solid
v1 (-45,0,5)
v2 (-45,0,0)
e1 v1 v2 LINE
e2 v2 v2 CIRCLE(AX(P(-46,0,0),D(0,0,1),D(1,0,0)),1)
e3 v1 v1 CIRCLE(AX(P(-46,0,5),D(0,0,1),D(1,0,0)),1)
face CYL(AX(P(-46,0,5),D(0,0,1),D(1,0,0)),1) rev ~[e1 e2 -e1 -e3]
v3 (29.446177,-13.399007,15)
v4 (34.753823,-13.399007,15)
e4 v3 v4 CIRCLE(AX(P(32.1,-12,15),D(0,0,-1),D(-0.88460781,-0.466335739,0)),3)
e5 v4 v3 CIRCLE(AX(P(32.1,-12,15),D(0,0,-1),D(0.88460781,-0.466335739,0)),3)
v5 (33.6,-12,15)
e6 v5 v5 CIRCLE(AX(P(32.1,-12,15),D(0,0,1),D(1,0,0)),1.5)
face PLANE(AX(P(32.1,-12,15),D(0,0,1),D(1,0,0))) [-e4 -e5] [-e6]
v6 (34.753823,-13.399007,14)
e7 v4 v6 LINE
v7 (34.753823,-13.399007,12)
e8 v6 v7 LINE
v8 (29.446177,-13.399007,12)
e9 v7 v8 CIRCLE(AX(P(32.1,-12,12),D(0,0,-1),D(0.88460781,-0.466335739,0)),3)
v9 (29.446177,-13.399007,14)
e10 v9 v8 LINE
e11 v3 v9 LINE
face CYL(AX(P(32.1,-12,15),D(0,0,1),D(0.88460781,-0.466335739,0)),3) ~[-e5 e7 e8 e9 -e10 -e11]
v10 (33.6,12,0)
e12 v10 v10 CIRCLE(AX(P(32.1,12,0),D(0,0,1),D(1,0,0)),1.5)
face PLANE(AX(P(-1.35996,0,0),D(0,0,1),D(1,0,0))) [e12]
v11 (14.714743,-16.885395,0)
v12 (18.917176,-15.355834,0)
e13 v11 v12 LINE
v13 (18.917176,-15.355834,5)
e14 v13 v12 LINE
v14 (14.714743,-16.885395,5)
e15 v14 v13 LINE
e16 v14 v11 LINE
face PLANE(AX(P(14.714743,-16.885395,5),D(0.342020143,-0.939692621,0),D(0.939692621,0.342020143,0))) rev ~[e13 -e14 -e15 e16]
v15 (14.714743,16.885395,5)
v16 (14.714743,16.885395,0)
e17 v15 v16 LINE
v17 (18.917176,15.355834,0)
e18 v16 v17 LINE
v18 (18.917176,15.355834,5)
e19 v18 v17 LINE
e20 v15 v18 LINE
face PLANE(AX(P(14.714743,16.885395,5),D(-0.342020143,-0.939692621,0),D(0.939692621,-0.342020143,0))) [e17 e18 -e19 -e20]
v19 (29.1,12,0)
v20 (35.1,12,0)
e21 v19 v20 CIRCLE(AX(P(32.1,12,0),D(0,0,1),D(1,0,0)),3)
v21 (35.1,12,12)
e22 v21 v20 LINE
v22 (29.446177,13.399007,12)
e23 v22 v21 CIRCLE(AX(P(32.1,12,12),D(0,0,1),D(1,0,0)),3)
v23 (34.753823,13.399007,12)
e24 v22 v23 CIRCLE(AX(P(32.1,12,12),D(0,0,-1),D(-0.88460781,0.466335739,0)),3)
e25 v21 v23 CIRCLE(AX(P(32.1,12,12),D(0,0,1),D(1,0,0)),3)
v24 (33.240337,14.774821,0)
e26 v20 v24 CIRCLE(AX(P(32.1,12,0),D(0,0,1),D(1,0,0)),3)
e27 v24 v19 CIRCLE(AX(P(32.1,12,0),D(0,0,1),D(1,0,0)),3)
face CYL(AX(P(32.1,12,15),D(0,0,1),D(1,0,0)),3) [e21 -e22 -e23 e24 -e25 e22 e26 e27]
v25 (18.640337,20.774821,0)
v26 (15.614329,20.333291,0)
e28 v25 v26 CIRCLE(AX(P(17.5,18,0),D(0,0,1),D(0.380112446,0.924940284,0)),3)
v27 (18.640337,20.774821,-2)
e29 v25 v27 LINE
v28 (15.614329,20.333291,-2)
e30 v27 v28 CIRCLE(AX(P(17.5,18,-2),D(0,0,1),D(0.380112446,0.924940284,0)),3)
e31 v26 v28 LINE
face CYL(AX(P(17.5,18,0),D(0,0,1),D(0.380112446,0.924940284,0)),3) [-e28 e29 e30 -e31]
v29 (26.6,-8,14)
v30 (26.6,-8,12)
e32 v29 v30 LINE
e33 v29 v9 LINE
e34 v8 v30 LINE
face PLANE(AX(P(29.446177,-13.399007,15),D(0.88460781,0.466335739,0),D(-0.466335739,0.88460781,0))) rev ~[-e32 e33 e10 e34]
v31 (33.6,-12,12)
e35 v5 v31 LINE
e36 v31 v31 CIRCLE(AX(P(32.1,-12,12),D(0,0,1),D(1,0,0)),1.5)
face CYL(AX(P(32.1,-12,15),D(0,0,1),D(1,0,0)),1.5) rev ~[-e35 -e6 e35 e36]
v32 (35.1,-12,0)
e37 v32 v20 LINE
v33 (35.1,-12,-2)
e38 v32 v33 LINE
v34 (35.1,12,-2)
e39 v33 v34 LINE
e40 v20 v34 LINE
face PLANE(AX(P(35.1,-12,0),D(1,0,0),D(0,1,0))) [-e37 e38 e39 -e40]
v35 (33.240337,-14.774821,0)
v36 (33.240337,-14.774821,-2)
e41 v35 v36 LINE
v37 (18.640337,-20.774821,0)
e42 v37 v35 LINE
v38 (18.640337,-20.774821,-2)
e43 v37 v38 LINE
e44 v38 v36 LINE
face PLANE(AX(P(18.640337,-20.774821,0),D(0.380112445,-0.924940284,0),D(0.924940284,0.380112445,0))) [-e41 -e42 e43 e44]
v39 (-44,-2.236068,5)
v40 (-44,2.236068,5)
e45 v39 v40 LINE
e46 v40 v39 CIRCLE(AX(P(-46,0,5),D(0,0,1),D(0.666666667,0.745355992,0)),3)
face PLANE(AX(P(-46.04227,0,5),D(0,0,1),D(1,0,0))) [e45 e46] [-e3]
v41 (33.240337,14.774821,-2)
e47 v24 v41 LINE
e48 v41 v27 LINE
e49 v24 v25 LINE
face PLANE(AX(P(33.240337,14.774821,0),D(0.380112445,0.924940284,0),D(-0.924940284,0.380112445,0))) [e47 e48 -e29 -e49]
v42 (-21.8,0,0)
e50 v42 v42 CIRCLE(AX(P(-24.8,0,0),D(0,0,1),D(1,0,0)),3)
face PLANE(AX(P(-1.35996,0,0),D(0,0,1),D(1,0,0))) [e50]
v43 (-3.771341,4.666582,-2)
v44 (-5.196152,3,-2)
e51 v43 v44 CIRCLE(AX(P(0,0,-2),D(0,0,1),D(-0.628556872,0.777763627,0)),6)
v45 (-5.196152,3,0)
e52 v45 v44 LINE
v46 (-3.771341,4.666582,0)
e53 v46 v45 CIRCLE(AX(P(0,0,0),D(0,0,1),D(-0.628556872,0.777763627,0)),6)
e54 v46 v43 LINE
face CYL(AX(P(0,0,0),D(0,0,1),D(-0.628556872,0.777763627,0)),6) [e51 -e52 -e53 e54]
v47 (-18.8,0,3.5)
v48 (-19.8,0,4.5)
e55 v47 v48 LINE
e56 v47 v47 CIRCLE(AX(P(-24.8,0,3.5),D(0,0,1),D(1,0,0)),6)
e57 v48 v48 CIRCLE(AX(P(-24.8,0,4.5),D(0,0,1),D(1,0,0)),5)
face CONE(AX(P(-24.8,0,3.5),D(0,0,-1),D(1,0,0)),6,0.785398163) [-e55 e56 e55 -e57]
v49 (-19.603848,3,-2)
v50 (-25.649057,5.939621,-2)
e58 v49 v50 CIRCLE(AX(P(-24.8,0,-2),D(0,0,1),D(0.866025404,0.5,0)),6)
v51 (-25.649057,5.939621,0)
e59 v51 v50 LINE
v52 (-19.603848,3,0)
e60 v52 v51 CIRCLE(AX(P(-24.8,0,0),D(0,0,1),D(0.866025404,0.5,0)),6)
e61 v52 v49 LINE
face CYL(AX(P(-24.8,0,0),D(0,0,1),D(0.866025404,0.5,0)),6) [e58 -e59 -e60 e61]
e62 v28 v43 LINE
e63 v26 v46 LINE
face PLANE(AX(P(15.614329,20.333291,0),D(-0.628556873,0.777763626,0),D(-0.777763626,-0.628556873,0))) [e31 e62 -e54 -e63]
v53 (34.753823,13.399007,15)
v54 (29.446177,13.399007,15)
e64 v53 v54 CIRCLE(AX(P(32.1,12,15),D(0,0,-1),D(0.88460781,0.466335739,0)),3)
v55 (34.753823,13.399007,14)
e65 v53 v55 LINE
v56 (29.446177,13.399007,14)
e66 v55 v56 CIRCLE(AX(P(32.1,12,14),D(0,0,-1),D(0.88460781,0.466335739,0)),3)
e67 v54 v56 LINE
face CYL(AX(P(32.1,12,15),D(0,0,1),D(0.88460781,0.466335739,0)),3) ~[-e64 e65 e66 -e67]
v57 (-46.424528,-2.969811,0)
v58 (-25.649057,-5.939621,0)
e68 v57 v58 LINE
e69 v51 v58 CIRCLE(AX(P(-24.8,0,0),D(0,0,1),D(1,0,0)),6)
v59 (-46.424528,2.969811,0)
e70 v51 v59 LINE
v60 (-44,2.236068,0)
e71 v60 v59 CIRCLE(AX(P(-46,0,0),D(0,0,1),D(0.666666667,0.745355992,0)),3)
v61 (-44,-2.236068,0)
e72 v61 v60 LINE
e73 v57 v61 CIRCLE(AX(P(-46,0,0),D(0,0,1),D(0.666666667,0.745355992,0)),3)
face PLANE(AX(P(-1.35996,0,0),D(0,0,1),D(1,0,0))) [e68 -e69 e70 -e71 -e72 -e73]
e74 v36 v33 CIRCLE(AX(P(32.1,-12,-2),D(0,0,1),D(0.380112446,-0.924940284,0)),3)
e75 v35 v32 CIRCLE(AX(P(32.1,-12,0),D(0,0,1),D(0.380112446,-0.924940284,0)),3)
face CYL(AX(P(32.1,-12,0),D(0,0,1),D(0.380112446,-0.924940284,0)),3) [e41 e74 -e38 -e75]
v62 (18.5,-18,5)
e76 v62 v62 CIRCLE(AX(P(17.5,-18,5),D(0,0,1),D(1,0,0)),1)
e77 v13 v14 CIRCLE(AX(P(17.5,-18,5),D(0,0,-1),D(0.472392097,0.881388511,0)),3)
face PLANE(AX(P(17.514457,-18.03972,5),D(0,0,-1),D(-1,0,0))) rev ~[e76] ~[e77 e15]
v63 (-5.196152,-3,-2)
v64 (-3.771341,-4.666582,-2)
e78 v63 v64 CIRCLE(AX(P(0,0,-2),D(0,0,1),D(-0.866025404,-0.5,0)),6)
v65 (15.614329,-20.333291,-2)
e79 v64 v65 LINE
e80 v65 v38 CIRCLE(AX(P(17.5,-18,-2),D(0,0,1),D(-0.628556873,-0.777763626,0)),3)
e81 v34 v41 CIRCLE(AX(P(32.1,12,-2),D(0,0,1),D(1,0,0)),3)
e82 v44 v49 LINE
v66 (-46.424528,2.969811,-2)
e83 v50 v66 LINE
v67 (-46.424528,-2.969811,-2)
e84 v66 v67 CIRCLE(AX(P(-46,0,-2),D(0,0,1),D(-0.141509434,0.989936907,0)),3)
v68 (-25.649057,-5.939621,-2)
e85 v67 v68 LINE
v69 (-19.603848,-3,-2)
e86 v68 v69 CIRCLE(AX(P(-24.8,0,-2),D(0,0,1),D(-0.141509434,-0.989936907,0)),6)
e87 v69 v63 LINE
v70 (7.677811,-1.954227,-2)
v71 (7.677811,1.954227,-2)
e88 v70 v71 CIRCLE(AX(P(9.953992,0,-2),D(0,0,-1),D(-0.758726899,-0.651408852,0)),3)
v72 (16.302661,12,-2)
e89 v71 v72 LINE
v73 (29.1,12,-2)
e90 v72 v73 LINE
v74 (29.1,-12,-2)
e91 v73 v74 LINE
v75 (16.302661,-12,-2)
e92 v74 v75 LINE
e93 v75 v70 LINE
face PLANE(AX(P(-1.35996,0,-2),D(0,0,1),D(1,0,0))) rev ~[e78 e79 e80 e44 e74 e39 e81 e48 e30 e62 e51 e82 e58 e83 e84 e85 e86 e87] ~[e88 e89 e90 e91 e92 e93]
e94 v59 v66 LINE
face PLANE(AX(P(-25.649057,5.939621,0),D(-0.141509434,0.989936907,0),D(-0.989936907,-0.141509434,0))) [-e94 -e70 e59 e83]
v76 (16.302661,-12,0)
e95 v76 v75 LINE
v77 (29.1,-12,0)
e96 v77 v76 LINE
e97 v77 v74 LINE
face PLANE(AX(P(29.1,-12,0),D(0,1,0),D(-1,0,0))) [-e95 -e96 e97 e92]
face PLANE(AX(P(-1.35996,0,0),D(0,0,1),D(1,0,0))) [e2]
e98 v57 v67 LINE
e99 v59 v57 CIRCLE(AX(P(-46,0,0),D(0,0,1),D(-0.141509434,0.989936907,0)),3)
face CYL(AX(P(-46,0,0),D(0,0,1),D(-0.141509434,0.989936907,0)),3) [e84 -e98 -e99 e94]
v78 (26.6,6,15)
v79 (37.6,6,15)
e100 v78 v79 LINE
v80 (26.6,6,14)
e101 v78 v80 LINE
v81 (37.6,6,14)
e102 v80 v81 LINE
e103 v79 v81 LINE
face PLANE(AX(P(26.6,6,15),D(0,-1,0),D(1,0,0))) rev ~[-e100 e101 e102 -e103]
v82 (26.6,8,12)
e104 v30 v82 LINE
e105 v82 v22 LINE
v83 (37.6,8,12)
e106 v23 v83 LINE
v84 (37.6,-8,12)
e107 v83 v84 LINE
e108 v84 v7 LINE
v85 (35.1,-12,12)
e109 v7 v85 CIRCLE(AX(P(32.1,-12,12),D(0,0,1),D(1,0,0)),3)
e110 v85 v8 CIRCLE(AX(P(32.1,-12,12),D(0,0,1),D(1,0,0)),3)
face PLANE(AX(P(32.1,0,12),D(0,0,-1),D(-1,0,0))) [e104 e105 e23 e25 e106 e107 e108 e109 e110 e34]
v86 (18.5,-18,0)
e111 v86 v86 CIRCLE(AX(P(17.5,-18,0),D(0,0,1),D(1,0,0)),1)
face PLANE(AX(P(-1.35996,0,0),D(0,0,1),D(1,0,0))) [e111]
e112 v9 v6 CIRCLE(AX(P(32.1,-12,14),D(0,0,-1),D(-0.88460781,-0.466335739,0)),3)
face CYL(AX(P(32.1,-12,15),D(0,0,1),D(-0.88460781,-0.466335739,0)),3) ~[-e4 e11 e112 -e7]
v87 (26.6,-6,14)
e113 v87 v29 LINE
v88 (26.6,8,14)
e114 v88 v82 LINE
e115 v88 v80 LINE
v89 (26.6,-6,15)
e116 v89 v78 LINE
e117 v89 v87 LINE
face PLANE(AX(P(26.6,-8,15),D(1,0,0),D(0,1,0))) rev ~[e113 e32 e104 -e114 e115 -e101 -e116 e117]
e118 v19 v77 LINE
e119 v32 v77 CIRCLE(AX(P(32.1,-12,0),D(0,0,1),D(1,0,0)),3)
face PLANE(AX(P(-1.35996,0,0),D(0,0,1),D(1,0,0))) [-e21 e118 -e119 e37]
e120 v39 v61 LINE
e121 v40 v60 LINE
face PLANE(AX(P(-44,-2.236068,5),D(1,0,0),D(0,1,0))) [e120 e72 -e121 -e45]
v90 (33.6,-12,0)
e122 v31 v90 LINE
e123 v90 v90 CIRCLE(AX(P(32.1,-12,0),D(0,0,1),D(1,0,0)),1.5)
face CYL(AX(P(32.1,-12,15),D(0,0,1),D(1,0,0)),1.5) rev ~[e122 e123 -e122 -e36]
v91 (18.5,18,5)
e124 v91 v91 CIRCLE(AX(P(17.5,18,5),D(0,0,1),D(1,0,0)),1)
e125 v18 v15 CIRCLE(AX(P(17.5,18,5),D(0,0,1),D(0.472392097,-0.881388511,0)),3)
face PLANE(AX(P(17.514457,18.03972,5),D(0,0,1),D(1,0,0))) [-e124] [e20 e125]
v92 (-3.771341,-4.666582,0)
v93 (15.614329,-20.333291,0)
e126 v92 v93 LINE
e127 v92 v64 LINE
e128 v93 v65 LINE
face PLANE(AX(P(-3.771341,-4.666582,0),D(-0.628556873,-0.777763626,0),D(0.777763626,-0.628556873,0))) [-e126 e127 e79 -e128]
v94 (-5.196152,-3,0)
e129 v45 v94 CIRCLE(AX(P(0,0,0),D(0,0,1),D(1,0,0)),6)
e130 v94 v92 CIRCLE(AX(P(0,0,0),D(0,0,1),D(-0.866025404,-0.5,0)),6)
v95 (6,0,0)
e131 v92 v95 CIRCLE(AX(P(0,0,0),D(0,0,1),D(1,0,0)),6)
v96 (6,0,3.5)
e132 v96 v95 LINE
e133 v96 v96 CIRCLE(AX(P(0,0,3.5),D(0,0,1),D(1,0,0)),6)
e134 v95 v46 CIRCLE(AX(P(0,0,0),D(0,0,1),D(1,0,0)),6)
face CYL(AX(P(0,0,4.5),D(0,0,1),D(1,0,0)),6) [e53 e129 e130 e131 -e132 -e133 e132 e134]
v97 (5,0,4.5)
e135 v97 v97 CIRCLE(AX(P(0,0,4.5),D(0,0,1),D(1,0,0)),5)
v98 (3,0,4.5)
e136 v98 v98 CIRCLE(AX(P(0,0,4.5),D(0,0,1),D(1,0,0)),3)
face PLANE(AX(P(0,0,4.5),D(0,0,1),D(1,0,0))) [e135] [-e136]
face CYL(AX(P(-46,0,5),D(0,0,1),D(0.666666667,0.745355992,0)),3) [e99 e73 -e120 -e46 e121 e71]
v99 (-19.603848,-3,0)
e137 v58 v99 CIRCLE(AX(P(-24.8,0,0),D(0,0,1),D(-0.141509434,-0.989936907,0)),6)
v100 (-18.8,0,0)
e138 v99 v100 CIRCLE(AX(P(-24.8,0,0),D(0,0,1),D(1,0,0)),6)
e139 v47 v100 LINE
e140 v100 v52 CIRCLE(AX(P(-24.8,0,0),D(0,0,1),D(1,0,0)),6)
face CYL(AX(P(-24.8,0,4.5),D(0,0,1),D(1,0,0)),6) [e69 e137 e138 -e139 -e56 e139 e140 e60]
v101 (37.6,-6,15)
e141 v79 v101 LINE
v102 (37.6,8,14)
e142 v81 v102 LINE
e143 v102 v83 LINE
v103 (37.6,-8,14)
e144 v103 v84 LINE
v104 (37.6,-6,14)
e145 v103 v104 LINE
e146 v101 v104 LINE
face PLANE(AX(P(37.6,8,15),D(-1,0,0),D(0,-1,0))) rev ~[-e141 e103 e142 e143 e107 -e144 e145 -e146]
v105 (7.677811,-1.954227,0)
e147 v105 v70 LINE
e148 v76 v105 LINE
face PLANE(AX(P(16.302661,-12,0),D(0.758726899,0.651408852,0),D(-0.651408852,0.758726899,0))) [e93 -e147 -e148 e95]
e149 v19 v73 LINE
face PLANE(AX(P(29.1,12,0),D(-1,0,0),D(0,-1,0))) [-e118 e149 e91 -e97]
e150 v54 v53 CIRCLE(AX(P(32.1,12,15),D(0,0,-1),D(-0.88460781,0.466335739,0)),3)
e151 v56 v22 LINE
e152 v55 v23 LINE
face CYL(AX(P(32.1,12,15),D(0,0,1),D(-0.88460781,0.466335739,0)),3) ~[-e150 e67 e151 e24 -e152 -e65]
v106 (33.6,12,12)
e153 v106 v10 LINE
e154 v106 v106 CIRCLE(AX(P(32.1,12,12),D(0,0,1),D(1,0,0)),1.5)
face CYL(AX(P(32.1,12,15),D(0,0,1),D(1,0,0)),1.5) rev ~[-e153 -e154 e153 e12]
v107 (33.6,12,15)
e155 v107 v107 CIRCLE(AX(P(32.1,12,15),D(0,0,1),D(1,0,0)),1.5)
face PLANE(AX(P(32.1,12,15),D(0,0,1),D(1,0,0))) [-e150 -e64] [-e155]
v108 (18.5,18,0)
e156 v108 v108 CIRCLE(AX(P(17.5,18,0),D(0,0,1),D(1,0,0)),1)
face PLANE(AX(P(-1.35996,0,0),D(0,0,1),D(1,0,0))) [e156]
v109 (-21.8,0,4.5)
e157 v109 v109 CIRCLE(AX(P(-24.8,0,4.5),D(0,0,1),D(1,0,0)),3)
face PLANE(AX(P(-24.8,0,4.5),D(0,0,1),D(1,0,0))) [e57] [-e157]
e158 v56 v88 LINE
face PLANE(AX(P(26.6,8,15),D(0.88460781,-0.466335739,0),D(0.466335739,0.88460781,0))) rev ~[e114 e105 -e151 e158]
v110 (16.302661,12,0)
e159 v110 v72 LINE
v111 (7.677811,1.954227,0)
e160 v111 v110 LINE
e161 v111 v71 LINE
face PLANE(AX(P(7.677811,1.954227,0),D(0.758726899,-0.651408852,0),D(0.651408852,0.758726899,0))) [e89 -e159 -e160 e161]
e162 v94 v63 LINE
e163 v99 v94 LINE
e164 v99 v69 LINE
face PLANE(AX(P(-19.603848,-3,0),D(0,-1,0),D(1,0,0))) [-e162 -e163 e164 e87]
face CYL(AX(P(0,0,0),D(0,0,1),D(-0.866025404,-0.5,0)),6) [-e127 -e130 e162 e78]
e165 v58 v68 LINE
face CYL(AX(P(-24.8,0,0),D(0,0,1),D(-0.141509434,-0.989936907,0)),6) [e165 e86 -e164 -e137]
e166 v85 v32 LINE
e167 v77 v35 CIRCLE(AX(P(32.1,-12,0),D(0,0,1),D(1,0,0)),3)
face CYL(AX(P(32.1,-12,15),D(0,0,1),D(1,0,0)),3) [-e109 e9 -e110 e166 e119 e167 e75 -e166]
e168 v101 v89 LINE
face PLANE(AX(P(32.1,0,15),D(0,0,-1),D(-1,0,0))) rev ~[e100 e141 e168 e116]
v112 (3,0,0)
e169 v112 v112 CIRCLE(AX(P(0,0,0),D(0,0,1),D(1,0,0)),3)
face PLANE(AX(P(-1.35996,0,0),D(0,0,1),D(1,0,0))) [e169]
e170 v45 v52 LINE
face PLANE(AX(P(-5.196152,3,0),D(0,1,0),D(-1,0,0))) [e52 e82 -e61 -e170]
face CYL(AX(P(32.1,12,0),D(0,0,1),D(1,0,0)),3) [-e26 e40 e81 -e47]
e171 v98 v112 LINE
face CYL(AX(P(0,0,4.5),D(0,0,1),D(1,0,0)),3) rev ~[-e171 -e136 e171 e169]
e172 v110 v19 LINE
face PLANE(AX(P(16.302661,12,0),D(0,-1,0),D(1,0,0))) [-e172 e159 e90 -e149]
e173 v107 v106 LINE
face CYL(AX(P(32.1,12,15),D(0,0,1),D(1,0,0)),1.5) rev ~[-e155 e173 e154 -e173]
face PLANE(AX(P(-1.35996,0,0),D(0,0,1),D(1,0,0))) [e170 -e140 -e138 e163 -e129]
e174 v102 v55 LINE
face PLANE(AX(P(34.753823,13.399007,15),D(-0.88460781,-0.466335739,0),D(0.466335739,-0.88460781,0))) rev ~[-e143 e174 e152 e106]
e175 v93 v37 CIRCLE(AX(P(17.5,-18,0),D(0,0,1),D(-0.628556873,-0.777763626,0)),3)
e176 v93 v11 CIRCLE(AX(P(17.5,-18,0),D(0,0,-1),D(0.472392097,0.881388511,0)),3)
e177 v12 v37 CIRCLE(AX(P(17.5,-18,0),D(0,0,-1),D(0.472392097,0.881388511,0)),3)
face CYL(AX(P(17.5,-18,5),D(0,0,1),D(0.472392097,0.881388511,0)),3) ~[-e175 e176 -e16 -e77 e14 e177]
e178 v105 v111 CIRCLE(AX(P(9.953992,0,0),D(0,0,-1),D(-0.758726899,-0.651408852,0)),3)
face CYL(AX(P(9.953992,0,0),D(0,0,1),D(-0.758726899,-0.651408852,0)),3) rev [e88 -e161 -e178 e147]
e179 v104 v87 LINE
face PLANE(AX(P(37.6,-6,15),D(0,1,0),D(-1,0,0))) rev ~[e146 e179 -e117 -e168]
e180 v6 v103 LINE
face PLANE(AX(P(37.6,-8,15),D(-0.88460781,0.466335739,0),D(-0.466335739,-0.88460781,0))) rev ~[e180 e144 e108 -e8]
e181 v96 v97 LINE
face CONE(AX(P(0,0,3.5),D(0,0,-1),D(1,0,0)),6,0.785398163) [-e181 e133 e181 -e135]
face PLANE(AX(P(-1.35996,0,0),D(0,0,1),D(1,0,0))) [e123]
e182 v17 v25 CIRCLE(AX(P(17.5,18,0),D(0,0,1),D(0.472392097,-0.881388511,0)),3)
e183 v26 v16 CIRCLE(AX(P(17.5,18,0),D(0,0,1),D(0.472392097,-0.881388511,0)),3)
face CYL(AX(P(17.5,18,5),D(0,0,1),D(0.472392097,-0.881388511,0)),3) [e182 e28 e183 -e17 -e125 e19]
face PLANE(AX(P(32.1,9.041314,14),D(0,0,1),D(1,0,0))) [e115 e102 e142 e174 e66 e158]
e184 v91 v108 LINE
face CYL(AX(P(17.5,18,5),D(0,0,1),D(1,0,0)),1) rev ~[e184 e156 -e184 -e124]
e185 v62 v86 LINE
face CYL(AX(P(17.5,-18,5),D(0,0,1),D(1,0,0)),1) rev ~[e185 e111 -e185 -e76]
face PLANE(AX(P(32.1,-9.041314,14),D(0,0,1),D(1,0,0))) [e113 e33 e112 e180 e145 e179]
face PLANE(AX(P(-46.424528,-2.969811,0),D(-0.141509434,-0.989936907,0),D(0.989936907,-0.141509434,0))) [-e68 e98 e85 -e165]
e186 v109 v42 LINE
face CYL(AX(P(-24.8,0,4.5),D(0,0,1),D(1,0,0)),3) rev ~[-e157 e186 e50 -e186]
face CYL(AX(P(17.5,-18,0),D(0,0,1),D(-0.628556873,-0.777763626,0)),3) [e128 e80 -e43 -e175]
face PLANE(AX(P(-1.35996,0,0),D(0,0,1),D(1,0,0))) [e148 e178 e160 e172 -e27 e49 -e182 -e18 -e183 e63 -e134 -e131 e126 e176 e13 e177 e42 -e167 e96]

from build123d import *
from build123d.topology import SkipClean

# Parameters (mm, degrees)
BOSS_EXTRUDE1_DEPTH = 2
BOSS_EXTRUDE2_START = 4.5
SKETCH2_R           = 6
SKETCH2_R_2         = 3
BOSS_EXTRUDE2_DEPTH = 4.5
CHAMFER1_SIZE       = 1
BOSS_EXTRUDE3_START = 5
SKETCH3_R           = 1
BOSS_EXTRUDE3_DEPTH = 5
BOSS_EXTRUDE4_START = 15
SKETCH4_R           = 3
SKETCH4_R_2         = 1.5
BOSS_EXTRUDE4_DEPTH = 15
SKETCH5_R           = 1.5
BOSS_EXTRUDE5_DEPTH = 3
CUT_EXTRUDE1_DEPTH  = 1


with BuildPart() as part:
    # Sketch1 → Boss-Extrude1 (new body)
    with BuildSketch(Plane.XY):
        with BuildLine():
            Line((-5.196152423, 3), (-19.603847577, 3))
            ThreePointArc((-19.603847577, 3), (-22.176137566, 5.39586378), (-25.649056604, 5.939621443))
            Line((-25.649056604, 5.939621443), (-46.424528302, 2.969810721))
            ThreePointArc((-46.424528302, 2.969810721), (-49, 0), (-46.424528302, -2.969810721))
            Line((-46.424528302, -2.969810721), (-25.649056604, -5.939621443))
            ThreePointArc((-25.649056604, -5.939621443), (-22.176137566, -5.39586378), (-19.603847577, -3))
            Line((-19.603847577, -3), (-5.196152423, -3))
            ThreePointArc((-5.196152423, -3), (-4.560521825, -3.898928146), (-3.771341235, -4.666581756))
            Line((-3.771341235, -4.666581756), (15.614329382, -20.333290878))
            ThreePointArc((15.614329382, -20.333290878), (17.066851522, -20.968565714), (18.640337336, -20.774820852))
            Line((18.640337336, -20.774820852), (33.240337336, -14.774820852))
            ThreePointArc((33.240337336, -14.774820852), (34.592088683, -13.670177833), (35.1, -12))
            Line((35.1, -12), (35.1, 12))
            ThreePointArc((35.1, 12), (34.592088683, 13.670177833), (33.240337336, 14.774820852))
            Line((33.240337336, 14.774820852), (18.640337336, 20.774820852))
            ThreePointArc((18.640337336, 20.774820852), (17.066851522, 20.968565714), (15.614329382, 20.333290878))
            Line((15.614329382, 20.333290878), (-3.771341235, 4.666581756))
            ThreePointArc((-3.771341235, 4.666581756), (-4.560521825, 3.898928146), (-5.196152423, 3))
        make_face()
        with BuildLine():
            Line((7.677811186, 1.954226556), (16.302661255, 12))
            Line((16.302661255, 12), (29.1, 12))
            Line((29.1, 12), (29.1, -12))
            Line((29.1, -12), (16.302661255, -12))
            Line((16.302661255, -12), (7.677811186, -1.954226556))
            ThreePointArc((7.677811186, -1.954226556), (6.953991883, 0), (7.677811186, 1.954226556))
        make_face(mode=Mode.SUBTRACT)
    extrude(amount=-BOSS_EXTRUDE1_DEPTH)

    # Sketch2 → Boss-Extrude2 (add)
    # profile 1 of 2: a face of its own
    with BuildSketch(Plane.XY.offset(BOSS_EXTRUDE2_START)):
        with Locations((-24.8, 0)):
            Circle(SKETCH2_R)
        with Locations((-24.8, 0)):
            Circle(SKETCH2_R_2, mode=Mode.SUBTRACT)
    # profile 2 of 2: a face of its own
    with BuildSketch(Plane.XY.offset(BOSS_EXTRUDE2_START)):
        Circle(SKETCH2_R)
        Circle(SKETCH2_R_2, mode=Mode.SUBTRACT)
    extrude(amount=-BOSS_EXTRUDE2_DEPTH)

    # Chamfer1
    chamfer1_edges = [part.edges().sort_by_distance(p)[0] for p in [
        (-30.8, 0, 4.5),
        (-6, 0, 4.5),
    ]]
    chamfer(chamfer1_edges, length=CHAMFER1_SIZE)

    # Sketch3 → Boss-Extrude3 (add)
    # profile 1 of 3: a face of its own
    with SkipClean():  # the faces are left unmerged after this step: merging them gives an invalid solid
        with BuildSketch(Plane.XY.offset(BOSS_EXTRUDE3_START)):
            with BuildLine():
                Line((-44, -2.236067977), (-44, 2.236067977))
                ThreePointArc((-44, 2.236067977), (-49, 0), (-44, -2.236067977))
            make_face()
            with Locations((-46, 0)):
                Circle(SKETCH3_R, mode=Mode.SUBTRACT)
        # profile 2 of 3: a face of its own
        with BuildSketch(Plane.XY.offset(BOSS_EXTRUDE3_START)):
            with BuildLine():
                Line((14.714743135, -16.885395049), (18.917176291, -15.355834468))
                ThreePointArc((18.917176291, -15.355834468), (18.52606043, -20.819077862), (14.714743135, -16.885395049))
            make_face()
            with Locations((17.5, -18)):
                Circle(SKETCH3_R, mode=Mode.SUBTRACT)
        # profile 3 of 3: a face of its own
        with BuildSketch(Plane.XY.offset(BOSS_EXTRUDE3_START)):
            with BuildLine():
                Line((14.714743135, 16.885395049), (18.917176291, 15.355834468))
                ThreePointArc((18.917176291, 15.355834468), (18.52606043, 20.819077862), (14.714743135, 16.885395049))
            make_face()
            with Locations((17.5, 18)):
                Circle(SKETCH3_R, mode=Mode.SUBTRACT)
        extrude(amount=-BOSS_EXTRUDE3_DEPTH)

    # Sketch4 → Boss-Extrude4 (add)
    # profile 1 of 2: a face of its own
    with SkipClean():  # the faces are left unmerged after this step: merging them gives an invalid solid
        with BuildSketch(Plane.XY.offset(BOSS_EXTRUDE4_START)):
            with Locations((32.1, -12)):
                Circle(SKETCH4_R)
            with Locations((32.1, -12)):
                Circle(SKETCH4_R_2, mode=Mode.SUBTRACT)
        # profile 2 of 2: a face of its own
        with BuildSketch(Plane.XY.offset(BOSS_EXTRUDE4_START)):
            with Locations((32.1, 12)):
                Circle(SKETCH4_R)
            with Locations((32.1, 12)):
                Circle(SKETCH4_R_2, mode=Mode.SUBTRACT)
        extrude(amount=-BOSS_EXTRUDE4_DEPTH)

    # Sketch5 → Boss-Extrude5 (add)
    with BuildSketch(Plane.XY.offset(15)):
        with BuildLine():
            Line((29.446176569, -13.399007218), (26.6, -8))
            Line((26.6, -8), (26.6, 8))
            Line((26.6, 8), (29.446176569, 13.399007218))
            ThreePointArc((29.446176569, 13.399007218), (32.1, 15), (34.753823431, 13.399007218))
            Line((34.753823431, 13.399007218), (37.6, 8))
            Line((37.6, 8), (37.6, -8))
            Line((37.6, -8), (34.753823431, -13.399007218))
            ThreePointArc((34.753823431, -13.399007218), (32.1, -15), (29.446176569, -13.399007218))
        make_face()
        with Locations((32.1, -12)):
            Circle(SKETCH5_R, mode=Mode.SUBTRACT)
        with Locations((32.1, 12)):
            Circle(SKETCH5_R, mode=Mode.SUBTRACT)
    extrude(amount=-BOSS_EXTRUDE5_DEPTH)

    # Sketch6 → Cut-Extrude1 (cut)
    with BuildSketch(Plane.XY.offset(15)):
        with BuildLine():
            Line((29.446176569, 13.399007218), (26.6, 8))
            Line((26.6, 8), (26.6, 6))
            Line((26.6, 6), (37.6, 6))
            Line((37.6, 6), (37.6, 8))
            Line((37.6, 8), (34.753823431, 13.399007218))
            ThreePointArc((34.753823431, 13.399007218), (32.1, 9), (29.446176569, 13.399007218))
        make_face()
        with BuildLine():
            Line((26.6, -8), (29.446176569, -13.399007218))
            ThreePointArc((29.446176569, -13.399007218), (32.1, -9), (34.753823431, -13.399007218))
            Line((34.753823431, -13.399007218), (37.6, -8))
            Line((37.6, -8), (37.6, -6))
            Line((37.6, -6), (26.6, -6))
            Line((26.6, -6), (26.6, -8))
        make_face()
    extrude(amount=-CUT_EXTRUDE1_DEPTH, mode=Mode.SUBTRACT)


solid = part.part
